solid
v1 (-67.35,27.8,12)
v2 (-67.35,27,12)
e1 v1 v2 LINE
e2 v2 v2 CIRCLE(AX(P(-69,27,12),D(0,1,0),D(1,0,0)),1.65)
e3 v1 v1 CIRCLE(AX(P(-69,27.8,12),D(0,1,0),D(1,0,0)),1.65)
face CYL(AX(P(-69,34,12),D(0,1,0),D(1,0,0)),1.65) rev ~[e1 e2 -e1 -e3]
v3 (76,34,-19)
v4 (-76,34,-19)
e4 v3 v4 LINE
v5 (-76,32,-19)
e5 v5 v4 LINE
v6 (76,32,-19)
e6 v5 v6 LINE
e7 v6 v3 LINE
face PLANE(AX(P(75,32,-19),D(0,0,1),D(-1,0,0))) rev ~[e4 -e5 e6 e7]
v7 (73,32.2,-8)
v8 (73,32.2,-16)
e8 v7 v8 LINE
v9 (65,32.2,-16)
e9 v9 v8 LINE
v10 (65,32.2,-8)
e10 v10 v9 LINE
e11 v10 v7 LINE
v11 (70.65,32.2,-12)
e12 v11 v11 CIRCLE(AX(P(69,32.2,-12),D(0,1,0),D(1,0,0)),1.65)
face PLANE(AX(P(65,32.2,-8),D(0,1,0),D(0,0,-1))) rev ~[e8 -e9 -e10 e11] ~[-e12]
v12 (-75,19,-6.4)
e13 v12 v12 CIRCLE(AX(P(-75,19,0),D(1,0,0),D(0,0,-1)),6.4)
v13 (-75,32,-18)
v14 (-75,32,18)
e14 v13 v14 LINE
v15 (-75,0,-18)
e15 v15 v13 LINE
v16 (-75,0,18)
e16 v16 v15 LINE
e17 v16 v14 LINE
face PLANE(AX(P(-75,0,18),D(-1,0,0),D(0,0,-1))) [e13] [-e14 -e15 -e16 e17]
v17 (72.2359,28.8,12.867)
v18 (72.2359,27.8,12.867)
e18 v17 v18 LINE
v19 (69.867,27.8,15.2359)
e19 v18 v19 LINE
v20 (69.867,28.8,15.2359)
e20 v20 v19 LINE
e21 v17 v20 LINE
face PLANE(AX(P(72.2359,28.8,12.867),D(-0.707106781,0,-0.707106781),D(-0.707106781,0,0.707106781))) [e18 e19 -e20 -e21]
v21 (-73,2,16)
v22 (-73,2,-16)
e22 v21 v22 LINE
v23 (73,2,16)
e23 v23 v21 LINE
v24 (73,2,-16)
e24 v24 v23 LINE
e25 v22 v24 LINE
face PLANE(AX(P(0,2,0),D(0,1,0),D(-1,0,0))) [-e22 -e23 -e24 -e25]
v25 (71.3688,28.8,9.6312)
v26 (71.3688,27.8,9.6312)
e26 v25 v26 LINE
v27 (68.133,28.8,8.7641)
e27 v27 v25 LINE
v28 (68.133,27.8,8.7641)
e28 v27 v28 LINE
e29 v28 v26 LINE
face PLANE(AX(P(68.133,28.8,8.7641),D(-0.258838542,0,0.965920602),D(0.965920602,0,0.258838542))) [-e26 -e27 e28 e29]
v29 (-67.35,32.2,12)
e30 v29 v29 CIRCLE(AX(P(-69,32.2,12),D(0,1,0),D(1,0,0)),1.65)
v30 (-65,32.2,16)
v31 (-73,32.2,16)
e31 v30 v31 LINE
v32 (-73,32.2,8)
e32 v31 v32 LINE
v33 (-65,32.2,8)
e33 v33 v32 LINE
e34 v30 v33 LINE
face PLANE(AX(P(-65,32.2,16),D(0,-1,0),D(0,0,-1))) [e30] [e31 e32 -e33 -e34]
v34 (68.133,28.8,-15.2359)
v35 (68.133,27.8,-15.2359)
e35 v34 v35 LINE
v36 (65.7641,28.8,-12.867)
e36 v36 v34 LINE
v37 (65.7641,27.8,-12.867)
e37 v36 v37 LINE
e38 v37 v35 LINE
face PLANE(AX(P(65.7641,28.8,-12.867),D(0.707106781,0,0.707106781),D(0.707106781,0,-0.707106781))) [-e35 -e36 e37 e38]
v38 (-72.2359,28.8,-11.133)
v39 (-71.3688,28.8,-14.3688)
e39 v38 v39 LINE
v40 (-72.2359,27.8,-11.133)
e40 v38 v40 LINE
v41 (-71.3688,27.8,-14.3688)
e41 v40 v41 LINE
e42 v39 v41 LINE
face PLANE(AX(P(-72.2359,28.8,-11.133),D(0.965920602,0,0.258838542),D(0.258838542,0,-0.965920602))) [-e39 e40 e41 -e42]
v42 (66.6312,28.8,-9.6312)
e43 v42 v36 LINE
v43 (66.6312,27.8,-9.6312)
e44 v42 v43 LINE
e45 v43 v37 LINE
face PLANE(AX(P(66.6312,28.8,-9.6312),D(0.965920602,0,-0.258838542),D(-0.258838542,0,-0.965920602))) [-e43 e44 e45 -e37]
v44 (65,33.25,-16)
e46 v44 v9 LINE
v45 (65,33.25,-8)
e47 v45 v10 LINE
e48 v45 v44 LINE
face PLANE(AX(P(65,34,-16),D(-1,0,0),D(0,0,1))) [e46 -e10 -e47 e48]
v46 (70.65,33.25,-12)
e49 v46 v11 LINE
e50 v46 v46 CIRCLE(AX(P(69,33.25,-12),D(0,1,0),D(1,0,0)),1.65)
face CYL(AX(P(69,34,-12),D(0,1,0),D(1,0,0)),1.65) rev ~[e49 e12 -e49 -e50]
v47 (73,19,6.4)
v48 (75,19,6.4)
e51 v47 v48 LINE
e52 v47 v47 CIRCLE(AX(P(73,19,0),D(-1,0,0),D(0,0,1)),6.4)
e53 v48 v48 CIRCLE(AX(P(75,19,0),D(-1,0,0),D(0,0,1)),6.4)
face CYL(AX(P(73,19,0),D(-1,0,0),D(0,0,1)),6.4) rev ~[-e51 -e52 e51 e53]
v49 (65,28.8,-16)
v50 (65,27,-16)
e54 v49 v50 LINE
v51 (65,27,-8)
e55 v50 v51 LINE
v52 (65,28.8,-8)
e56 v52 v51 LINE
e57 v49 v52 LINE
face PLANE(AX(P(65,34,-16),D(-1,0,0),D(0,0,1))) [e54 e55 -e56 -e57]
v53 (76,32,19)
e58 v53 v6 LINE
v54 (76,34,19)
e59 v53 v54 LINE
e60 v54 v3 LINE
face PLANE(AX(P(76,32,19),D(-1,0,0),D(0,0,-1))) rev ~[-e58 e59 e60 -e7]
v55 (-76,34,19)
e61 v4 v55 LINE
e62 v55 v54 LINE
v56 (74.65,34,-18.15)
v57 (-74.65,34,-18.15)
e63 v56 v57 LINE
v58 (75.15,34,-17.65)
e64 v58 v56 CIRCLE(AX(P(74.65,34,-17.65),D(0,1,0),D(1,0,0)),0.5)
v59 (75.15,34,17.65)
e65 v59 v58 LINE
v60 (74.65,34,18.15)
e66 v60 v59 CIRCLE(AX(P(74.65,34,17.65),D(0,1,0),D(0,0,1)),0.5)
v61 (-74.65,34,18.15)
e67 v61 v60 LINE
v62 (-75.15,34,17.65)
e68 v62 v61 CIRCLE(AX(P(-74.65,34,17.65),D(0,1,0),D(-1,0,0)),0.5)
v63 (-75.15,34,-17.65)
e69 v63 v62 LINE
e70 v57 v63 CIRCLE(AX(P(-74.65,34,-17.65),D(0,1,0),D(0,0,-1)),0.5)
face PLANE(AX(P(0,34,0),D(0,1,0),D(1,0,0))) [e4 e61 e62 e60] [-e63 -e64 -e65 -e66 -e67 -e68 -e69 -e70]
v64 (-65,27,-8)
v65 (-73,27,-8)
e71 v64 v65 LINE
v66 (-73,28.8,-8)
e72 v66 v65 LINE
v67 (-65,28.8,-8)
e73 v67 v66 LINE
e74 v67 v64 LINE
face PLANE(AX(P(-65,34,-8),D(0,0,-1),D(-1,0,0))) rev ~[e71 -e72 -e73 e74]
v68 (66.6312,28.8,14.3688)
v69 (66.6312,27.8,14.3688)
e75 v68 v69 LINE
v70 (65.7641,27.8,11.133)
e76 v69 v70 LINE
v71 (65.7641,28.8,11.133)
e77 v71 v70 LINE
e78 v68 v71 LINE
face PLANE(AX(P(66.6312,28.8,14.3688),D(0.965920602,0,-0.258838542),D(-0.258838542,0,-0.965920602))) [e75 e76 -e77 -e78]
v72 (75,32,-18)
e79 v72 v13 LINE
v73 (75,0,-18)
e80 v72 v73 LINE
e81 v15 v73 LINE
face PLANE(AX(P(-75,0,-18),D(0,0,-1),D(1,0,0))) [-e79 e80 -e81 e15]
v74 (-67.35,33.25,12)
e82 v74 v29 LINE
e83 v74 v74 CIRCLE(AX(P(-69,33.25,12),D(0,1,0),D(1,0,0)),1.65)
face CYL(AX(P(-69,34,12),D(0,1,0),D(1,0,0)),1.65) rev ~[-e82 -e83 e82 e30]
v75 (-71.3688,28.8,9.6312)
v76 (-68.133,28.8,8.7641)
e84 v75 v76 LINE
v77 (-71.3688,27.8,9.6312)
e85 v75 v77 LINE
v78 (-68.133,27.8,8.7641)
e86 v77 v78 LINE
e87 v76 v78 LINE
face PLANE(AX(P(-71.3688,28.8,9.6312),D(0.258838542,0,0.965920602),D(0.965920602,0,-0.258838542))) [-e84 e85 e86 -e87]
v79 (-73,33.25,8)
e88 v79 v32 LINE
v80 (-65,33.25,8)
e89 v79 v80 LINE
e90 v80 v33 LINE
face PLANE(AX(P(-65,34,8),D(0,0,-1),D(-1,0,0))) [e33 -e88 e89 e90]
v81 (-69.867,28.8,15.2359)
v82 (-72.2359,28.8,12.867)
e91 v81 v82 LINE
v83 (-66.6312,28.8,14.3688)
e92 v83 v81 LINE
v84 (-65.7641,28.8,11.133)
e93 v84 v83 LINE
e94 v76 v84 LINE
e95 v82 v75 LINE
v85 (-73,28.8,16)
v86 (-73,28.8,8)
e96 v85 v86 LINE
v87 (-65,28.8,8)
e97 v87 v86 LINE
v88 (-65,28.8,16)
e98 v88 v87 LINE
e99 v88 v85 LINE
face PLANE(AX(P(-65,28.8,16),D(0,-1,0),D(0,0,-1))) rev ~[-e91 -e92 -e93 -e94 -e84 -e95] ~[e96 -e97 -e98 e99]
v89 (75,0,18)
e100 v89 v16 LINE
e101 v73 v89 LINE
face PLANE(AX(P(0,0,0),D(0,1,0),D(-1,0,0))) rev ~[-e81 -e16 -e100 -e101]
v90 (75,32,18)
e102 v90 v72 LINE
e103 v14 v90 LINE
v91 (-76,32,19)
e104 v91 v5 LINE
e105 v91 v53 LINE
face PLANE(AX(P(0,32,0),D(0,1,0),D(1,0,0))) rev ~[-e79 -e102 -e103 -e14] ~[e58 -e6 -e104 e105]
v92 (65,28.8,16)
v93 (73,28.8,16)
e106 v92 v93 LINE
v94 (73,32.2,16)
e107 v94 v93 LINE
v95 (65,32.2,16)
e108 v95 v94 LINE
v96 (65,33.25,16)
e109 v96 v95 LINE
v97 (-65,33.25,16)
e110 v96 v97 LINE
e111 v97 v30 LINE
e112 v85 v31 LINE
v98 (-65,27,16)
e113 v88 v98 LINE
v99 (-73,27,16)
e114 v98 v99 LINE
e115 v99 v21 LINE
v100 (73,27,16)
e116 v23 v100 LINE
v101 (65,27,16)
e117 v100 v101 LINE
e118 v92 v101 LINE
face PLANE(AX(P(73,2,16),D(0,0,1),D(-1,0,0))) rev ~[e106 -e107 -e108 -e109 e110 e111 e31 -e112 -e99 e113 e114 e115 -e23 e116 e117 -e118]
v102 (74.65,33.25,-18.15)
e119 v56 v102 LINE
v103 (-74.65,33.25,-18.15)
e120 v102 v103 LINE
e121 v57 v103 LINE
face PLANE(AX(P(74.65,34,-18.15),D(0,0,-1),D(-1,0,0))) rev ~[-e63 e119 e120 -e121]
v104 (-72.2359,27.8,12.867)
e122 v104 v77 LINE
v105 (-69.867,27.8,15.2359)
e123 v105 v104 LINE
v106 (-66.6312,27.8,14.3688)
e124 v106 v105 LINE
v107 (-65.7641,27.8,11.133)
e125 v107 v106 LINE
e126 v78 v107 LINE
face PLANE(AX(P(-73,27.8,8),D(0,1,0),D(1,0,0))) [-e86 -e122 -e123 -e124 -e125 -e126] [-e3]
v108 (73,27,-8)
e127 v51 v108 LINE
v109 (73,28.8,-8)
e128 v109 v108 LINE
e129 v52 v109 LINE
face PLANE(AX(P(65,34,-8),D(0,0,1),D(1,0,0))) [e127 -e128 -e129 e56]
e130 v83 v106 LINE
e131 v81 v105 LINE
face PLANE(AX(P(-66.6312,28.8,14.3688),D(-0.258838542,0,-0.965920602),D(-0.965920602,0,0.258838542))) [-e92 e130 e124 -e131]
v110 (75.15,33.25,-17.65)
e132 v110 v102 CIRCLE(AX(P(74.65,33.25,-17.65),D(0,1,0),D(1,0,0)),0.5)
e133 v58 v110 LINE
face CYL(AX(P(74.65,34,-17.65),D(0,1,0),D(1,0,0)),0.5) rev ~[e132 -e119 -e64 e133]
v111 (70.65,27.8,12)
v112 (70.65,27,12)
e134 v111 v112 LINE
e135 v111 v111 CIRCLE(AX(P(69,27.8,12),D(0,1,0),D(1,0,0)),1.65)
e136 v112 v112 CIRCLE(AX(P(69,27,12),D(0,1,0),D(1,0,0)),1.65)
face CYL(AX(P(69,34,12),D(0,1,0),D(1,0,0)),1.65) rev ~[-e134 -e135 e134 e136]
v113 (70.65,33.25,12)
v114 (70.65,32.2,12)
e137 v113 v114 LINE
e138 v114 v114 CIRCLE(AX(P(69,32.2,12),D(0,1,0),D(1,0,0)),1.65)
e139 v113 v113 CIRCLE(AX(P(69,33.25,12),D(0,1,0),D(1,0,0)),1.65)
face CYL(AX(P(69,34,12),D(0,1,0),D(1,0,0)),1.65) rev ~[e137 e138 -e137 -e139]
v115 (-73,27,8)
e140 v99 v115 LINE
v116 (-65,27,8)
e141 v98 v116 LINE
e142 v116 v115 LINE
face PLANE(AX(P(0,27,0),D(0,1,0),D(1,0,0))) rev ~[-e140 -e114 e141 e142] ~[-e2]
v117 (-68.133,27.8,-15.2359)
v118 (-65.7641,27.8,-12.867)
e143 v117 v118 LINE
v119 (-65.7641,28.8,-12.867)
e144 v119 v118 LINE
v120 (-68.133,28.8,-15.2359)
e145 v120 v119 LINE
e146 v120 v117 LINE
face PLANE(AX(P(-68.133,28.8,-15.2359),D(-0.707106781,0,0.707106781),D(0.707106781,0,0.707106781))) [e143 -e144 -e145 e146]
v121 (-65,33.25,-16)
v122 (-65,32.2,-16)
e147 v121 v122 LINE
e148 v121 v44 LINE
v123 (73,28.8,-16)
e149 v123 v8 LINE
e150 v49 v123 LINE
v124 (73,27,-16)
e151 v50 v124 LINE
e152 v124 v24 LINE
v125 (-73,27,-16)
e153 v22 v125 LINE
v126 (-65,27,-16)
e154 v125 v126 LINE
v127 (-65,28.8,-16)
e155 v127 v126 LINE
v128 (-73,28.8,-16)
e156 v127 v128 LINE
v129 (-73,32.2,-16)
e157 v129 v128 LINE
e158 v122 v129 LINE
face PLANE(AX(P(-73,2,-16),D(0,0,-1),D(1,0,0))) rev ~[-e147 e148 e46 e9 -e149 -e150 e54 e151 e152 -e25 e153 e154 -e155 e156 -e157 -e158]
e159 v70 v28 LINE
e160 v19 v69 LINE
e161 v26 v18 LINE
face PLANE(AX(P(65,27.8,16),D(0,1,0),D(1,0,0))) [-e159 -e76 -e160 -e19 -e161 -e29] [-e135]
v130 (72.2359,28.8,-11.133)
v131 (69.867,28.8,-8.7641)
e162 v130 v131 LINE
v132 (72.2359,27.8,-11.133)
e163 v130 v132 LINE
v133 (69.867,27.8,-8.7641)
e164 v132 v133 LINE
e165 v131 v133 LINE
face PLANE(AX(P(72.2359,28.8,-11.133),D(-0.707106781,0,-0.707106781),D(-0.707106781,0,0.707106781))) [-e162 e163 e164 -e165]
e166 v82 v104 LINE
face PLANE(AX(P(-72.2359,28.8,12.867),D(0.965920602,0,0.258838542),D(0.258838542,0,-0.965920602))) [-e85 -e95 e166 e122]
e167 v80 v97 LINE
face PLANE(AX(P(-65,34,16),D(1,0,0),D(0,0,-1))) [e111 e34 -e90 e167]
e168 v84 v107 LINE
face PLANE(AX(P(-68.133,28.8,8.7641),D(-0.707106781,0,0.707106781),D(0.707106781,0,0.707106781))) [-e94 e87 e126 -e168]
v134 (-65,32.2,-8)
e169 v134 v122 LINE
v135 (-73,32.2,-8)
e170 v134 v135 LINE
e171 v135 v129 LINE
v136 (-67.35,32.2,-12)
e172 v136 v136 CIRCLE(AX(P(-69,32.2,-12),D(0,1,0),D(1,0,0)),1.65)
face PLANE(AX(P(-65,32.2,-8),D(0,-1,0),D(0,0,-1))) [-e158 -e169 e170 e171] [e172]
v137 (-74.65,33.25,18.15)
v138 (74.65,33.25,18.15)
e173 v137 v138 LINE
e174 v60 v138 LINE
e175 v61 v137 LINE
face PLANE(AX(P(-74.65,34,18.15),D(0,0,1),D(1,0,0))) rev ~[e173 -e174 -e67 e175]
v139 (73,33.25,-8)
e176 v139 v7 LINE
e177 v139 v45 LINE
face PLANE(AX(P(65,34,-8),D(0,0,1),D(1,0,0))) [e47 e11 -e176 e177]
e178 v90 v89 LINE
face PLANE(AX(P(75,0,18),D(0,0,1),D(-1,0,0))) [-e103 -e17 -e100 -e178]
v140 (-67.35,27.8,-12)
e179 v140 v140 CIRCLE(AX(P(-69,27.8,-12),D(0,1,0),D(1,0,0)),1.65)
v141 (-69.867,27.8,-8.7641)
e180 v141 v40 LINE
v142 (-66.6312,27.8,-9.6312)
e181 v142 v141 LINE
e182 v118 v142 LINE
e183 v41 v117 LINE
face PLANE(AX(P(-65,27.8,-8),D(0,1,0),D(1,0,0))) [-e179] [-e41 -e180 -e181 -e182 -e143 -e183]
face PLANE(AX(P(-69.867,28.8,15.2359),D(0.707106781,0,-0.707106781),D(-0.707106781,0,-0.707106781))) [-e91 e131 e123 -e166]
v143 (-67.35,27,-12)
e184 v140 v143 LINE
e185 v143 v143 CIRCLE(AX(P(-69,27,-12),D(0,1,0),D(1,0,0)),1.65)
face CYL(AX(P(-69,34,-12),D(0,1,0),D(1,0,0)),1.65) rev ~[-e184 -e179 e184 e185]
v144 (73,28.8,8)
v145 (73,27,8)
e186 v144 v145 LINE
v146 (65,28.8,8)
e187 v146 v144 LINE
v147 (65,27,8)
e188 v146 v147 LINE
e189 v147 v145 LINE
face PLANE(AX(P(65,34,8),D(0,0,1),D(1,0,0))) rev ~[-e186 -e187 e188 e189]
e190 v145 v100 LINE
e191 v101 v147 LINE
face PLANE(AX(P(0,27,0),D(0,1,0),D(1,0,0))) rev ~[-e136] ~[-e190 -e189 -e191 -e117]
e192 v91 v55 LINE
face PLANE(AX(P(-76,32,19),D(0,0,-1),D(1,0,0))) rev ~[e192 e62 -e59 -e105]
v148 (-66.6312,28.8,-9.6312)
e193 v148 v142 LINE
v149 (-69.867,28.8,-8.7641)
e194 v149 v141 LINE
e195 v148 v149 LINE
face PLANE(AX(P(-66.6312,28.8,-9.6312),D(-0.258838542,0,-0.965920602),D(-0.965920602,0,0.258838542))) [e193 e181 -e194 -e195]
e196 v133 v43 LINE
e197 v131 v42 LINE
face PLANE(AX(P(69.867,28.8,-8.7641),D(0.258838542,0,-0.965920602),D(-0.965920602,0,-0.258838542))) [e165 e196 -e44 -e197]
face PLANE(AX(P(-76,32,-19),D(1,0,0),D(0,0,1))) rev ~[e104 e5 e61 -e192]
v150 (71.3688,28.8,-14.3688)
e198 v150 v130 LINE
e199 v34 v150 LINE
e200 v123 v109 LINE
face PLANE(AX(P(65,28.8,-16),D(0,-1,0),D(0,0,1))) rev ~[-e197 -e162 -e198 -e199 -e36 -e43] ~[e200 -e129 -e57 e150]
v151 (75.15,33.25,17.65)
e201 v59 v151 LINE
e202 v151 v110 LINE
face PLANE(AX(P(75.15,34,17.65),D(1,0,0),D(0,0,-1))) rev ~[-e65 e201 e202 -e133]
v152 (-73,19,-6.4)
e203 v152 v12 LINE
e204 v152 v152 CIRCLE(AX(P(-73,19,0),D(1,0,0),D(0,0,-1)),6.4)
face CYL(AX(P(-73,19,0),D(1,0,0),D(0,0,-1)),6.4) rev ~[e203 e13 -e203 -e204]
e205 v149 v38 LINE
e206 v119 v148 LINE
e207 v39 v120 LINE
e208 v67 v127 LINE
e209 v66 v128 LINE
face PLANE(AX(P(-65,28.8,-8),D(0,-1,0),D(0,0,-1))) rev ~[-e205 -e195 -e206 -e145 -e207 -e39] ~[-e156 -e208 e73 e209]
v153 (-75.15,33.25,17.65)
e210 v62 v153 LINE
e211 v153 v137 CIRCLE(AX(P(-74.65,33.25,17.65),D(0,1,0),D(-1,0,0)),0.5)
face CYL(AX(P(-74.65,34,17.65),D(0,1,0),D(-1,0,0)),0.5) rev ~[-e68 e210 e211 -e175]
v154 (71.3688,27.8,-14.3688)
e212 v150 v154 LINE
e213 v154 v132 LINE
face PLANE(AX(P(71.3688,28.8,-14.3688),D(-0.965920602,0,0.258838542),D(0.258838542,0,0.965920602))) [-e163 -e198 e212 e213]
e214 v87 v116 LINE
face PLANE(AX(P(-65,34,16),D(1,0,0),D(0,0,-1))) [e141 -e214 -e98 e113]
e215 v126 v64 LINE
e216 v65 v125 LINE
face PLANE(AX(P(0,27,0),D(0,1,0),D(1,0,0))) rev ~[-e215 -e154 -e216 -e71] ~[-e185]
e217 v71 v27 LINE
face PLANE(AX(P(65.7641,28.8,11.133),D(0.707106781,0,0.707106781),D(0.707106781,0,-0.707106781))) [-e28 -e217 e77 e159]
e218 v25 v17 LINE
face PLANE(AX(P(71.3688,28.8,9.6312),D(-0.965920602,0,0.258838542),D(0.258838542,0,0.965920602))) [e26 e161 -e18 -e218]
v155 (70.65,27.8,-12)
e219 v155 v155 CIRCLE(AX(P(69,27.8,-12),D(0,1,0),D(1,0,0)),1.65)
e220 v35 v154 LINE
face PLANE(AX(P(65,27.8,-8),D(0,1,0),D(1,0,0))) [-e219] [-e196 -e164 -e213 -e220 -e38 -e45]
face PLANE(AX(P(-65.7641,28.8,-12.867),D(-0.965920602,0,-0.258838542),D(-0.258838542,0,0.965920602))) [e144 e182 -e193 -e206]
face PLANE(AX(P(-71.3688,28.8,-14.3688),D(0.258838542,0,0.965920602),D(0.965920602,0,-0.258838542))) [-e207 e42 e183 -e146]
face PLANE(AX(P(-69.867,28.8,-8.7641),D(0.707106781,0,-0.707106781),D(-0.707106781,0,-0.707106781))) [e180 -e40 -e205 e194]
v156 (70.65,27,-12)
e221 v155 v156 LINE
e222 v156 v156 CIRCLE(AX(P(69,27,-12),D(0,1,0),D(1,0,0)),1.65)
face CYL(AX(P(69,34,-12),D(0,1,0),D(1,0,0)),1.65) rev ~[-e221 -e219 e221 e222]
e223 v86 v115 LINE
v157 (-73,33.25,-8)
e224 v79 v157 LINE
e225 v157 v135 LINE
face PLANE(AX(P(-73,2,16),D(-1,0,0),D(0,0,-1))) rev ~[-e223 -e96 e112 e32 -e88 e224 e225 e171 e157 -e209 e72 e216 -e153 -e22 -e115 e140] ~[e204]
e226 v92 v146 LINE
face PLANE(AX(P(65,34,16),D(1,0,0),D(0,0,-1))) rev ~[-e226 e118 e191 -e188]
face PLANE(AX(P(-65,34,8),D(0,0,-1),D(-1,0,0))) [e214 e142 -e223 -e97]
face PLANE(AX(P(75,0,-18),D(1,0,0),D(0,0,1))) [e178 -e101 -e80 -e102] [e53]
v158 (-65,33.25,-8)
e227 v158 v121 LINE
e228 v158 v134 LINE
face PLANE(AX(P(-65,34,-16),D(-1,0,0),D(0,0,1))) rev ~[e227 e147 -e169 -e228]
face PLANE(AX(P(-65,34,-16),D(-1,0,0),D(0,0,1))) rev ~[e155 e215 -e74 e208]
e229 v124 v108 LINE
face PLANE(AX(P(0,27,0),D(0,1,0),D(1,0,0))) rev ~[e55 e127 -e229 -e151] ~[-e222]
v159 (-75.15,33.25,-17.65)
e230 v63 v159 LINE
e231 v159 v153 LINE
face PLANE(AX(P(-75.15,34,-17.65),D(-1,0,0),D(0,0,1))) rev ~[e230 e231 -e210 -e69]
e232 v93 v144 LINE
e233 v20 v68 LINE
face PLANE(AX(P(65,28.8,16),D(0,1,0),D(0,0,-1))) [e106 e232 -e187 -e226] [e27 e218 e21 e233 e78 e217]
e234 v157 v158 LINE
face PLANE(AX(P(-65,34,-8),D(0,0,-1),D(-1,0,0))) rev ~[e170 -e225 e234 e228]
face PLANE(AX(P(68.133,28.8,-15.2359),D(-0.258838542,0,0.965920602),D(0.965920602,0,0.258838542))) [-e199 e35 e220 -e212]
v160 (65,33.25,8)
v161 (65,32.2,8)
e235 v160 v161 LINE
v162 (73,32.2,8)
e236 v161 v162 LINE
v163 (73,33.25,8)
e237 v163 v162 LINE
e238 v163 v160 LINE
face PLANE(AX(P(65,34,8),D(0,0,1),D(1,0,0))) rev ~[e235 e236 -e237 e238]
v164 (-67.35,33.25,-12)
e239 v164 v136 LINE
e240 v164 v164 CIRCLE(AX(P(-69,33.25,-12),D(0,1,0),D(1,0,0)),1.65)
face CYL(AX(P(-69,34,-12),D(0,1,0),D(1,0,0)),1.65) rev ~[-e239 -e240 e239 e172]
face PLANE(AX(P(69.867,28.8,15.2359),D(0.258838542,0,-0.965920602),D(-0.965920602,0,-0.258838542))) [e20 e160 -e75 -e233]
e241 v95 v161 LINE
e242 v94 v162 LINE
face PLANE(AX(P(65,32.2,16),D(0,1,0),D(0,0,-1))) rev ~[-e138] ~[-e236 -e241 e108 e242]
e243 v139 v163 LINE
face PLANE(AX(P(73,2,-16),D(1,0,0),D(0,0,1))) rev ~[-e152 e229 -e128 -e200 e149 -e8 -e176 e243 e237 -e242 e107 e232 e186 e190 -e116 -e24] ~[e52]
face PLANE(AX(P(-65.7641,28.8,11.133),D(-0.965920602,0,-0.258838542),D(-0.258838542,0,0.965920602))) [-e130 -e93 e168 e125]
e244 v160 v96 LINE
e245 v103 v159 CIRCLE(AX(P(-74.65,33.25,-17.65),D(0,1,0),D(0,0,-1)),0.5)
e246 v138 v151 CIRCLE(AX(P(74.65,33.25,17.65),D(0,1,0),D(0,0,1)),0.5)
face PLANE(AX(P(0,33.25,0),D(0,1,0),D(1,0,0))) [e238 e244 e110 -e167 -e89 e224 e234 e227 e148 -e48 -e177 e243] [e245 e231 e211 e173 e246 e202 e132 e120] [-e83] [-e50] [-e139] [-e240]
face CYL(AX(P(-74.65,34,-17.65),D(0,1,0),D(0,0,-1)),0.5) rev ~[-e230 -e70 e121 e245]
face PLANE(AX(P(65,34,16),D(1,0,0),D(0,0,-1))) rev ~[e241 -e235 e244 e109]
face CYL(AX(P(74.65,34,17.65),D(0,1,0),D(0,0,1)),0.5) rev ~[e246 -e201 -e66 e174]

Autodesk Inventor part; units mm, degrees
ref_plane "YZ Plane" through (0, 0, 0) normal (1, 0, 0) x (0, 1, 0)
ref_plane "XZ Plane" through (0, 0, 0) normal (0, 1, 0) x (-1, 0, 0)
sketch "Sketch1" plane through (0, 0, 0) normal (0, 1, 0) x (-1, 0, 0)
  line L0 (75, -18) -> (-75, -18)
  line L1 (-75, -18) -> (-75, 18)
  line L2 (-75, 18) -> (75, 18)
  line L3 (75, 18) -> (75, -18)
  line L4 (75, -18) -> (-75, 18) construction
  line L5 (-75, -18) -> (75, 18) construction
  point P0 (0, 0)
  dimension "d0" = 150
  dimension "d1" = 36
extrude "Extrusion1" add sketch "Sketch1" along normal blind 2
sketch "Sketch3" plane through (0, 2, 0) normal (0, 1, 0) x (1, 0, 0)
  line L0 (75, 18) -> (-75, 18) projected
  line L1 (-75, 18) -> (-75, -18) projected
  line L2 (73, -16) -> (-73, -16)
  line L3 (-73, -16) -> (-73, 16)
  line L4 (-73, 16) -> (73, 16)
  line L5 (73, 16) -> (73, -16)
  line L6 (-75, -18) -> (75, -18) projected
  line L7 (-75, -18) -> (75, -18)
  line L8 (75, -18) -> (75, 18)
  line L9 (75, 18) -> (-75, 18)
  line L10 (-75, 18) -> (-75, -18)
  point P0 (0, 0)
extrude "Extrusion3" add sketch "Sketch3" along normal blind 30
sketch "Sketch4" plane through (-73, 2, 16) normal (1, 0, 0) x (0, 0, -1)
  line L0 (32, 0) -> (0, 0) projected
  line L1 (32, 0) -> (32, 30) projected
  line L2 (0, 30) -> (32, 30) projected
  line L3 (0, 0) -> (0, 30) projected
  line L4 (0, 30) -> (32, 30) projected
  line L5 (32, 0) -> (32, 30) projected
  line L6 (0, 30) -> (32, 30)
  line L7 (32, 30) -> (32, 0)
  line L8 (32, 0) -> (0, 0)
  line L9 (0, 0) -> (0, 30)
  line L10 (32, 0) -> (0, 0) projected
  circle A0 centre (16, 17) radius 6.4
  point P0 (16, -2)
extrude "Extrusion4" cut sketch "Sketch4" against normal blind 30 contours A0
sketch "Sketch5" plane through (73, 2, -16) normal (-1, 0, 0) x (0, 0, 1)
  line L0 (32, 0) -> (0, 0) projected
  line L1 (32, 0) -> (32, 30) projected
  line L2 (0, 30) -> (32, 30) projected
  line L3 (0, 0) -> (0, 30) projected
  line L4 (0, 30) -> (32, 30) projected
  line L5 (0, 30) -> (32, 30)
  line L6 (32, 30) -> (32, 0)
  line L7 (32, 0) -> (0, 0)
  line L8 (0, 0) -> (0, 30)
  line L9 (0, 0) -> (0, 30) projected
  circle A0 centre (16, 17) radius 6.4
  point P0 (16, -2)
  dimension "d23" = 12.8
extrude "Extrusion5" cut sketch "Sketch5" against normal blind 30 contours A0
sketch "Sketch6" plane through (0, 32, 0) normal (0, 1, 0) x (1, 0, 0)
  line L0 (75, 18) -> (-75, 18) projected
  line L1 (-75, 18) -> (-75, -18) projected
  line L2 (-75, -18) -> (75, -18) projected
  line L3 (75, -18) -> (75, 18) projected
  line L4 (73, -16) -> (-73, -16) projected
  line L5 (-73, -16) -> (-73, 16) projected
  line L6 (-73, 16) -> (73, 16) projected
  line L7 (73, 16) -> (73, -16) projected
  line L8 (-76, -18) -> (-76, -19)
  line L9 (75, -18) -> (75, 18) projected
  line L10 (75, 19) -> (76, 19)
  line L11 (76, 19) -> (-76, 19)
  line L12 (-76, 19) -> (-76, -19)
  line L13 (-76, -19) -> (76, -19)
  line L14 (76, -19) -> (76, 19)
  line L15 (-73, -16) -> (-73, 16) projected
  line L16 (73, 16) -> (-73, 16) projected
  line L17 (-73, -16) -> (73, -16)
  line L18 (73, -16) -> (73, 16)
  line L19 (73, 16) -> (-73, 16)
  line L20 (-73, 16) -> (-73, -16)
  point P0 (0, 0)
  dimension "d26" = 1
  dimension "d27" = 1
  dimension "d28" = 1
  dimension "d29" = 1
extrude "Extrusion6" add sketch "Sketch6" along normal blind 2 contours L3 L2 L1 L0 | L12 L11 L10 L14 L13 L8
sketch "Sketch7" plane through (0, 34, 0) normal (0, 1, 0) x (1, 0, 0)
  line L0 (76, 19) -> (-76, 19) projected
  line L1 (-76, 19) -> (-76, -19) projected
  line L2 (-76, -19) -> (76, -19) projected
  line L3 (76, -19) -> (76, 19) projected
  line L4 (73, 16) -> (73, -16) projected
  line L5 (73, -16) -> (-73, -16) projected
  line L6 (-73, -16) -> (-73, 16) projected
  line L7 (-73, 16) -> (73, 16) projected
  line L8 (73, -16) -> (-73, -16) projected
  line L9 (-73.65, -16) -> (-73.65, -16.15)
  line L10 (-76, 19) -> (-76, -19) projected
  line L11 (-76, -19) -> (-76, -18.15)
  line L12 (76, 19) -> (-76, 19) projected
  line L13 (76, 19) -> (75.15, 19)
  line L14 (-73, 16) -> (73, 16) projected
  line L15 (72.8, 16.65) -> (73.15, 16.65)
  line L16 (73.65, 16.65) -> (-73.15, 16.65)
  line L17 (-73.65, 16.15) -> (-73.65, -16.65)
  line L18 (-73.15, -16.65) -> (73.15, -16.65)
  line L19 (73.65, -16.15) -> (73.65, 16.15)
  line L20 (-74.65, -18.15) -> (74.65, -18.15)
  line L21 (75.15, -17.65) -> (75.15, 17.65)
  line L22 (74.65, 18.15) -> (-74.65, 18.15)
  line L23 (-75.15, 17.65) -> (-75.15, -17.65)
  arc A0 (-75.15, -17.65) -> (-74.65, -18.15) centre (-74.65, -17.65) ccw
  arc A1 (-73.65, -16.15) -> (-73.15, -16.65) centre (-73.15, -16.15) ccw
  arc A2 (-73.15, 16.65) -> (-73.65, 16.15) centre (-73.15, 16.15) ccw
  arc A3 (-74.65, 18.15) -> (-75.15, 17.65) centre (-74.65, 17.65) ccw
  arc A4 (73.15, -16.65) -> (73.65, -16.15) centre (73.15, -16.15) ccw
  arc A5 (74.65, -18.15) -> (75.15, -17.65) centre (74.65, -17.65) ccw
  arc A6 (73.65, 16.15) -> (73.15, 16.65) centre (73.15, 16.15) ccw
  arc A7 (75.15, 17.65) -> (74.65, 18.15) centre (74.65, 17.65) ccw
  point P0 (0, 0)
  point P1 (-75.15, -18.15)
  point P2 (75.15, 18.15)
  point P3 (-73.65, 16.65)
  point P4 (73.65, -16.65)
  point P5 (75.15, -18.15)
  point P6 (-75.15, 18.15)
  dimension "d34" = 0.85
  dimension "d184" = 1.5
  dimension "d185" = 1.5
  dimension "d186" = 1.5
  dimension "d187" = 1.5
  dimension "d188" = 0.65
  dimension "d191" = 0.5
  dimension "d192" = 0.5
sketch "Sketch8" plane through (0, 34, 0) normal (0, 1, 0) x (1, 0, 0)
  point P0 (0, 0)
sketch "Sketch9" plane through (-73, 2, 16) normal (1, 0, 0) x (0, 0, -1)
  point P0 (16, -2)
sketch "Sketch29" plane through (0, 34, 0) normal (0, 1, 0) x (1, 0, 0)
  line L0 (73, 16) -> (73, -16) projected
  line L1 (73, -16) -> (-73, -16) projected
  line L2 (-73, -16) -> (-73, 16) projected
  line L3 (-73, 16) -> (73, 16) projected
  line L4 (75.15, 18.15) -> (75.15, -18.15) projected
  line L5 (-75.15, 18.15) -> (75.15, 18.15) projected
  line L6 (-75.15, -18.15) -> (-75.15, 18.15) projected
  line L7 (75.15, -18.15) -> (-75.15, -18.15) projected
  line L8 (73.65, -16.65) -> (73.65, 16.65) projected
  line L9 (-73.65, -16.65) -> (73.65, -16.65) projected
  line L10 (-73.65, 16.65) -> (-73.65, -16.65) projected
  line L11 (73.65, 16.65) -> (-73.65, 16.65) projected
  line L12 (-76, 19) -> (-76, -19) projected
  line L13 (76, 19) -> (-76, 19) projected
  line L14 (-76, 19) -> (-76, -19) projected
  line L15 (-76, -19) -> (76, -19) projected
  line L16 (76, -19) -> (76, 19) projected
  line L17 (-73, -16) -> (73, -16) projected
  line L18 (-73, -16) -> (-73, 16) projected
  line L19 (-73, -16) -> (-65.5, -16) construction
  line L20 (-73, -16) -> (-65, -16)
  line L21 (-65, -16) -> (-65, -8)
  line L22 (-65, -8) -> (-73, -8)
  line L23 (-73, -8) -> (-73, -16)
  line L24 (-73, 16) -> (-65, 16)
  line L25 (-65, 16) -> (-65, 8)
  line L26 (-65, 8) -> (-73, 8)
  line L27 (-73, 8) -> (-73, 16)
  line L28 (73, 16) -> (-73, 16) projected
  line L29 (73, 16) -> (65, 16)
  line L30 (65, 16) -> (65, 8)
  line L31 (65, 8) -> (73, 8)
  line L32 (73, 8) -> (73, 16)
  line L33 (73, -16) -> (65, -16)
  line L34 (65, -16) -> (65, -8)
  line L35 (65, -8) -> (73, -8)
  line L36 (73, -8) -> (73, -16)
  point P0 (0, 0)
  dimension "d120" = 8
  dimension "d121" = 8
  dimension "d122" = 8
  dimension "d123" = 8
  dimension "d124" = 8
  dimension "d125" = 8
  dimension "d126" = 8
  dimension "d127" = 8
extrude "Extrusion22" add sketch "Sketch29" against normal blind 7 contours L0 L31 L30 L3 | L0 L1 L34 L35 | L25 L26 L2 L3 | L1 L2 L22 L21
sketch "Sketch30" plane through (-65, 34, -8) normal (1, 0, 0) x (0, 0, -1)
  line L0 (0, 0) -> (8, 0) projected
  line L1 (0, 0) -> (0, -7) projected
  line L2 (8, -7) -> (0, -7) projected
  line L3 (8, 0) -> (8, -7) projected
  line L4 (-24, 0) -> (-16, 0) projected
  line L5 (-24, -7) -> (-24, 0) projected
  line L6 (-16, -7) -> (-24, -7) projected
  line L7 (-16, 0) -> (-16, -7) projected
  line L8 (0, 0) -> (0, -7) projected
  line L9 (8, 0) -> (0, 0)
  line L10 (0, 0) -> (0, -1.8)
  line L11 (0, -1.8) -> (8, -1.8)
  line L12 (8, -1.8) -> (8, 0)
  line L13 (8, 0) -> (8, -7) projected
  line L14 (8, -7) -> (0, -7)
  line L15 (0, -7) -> (0, -5.2)
  line L16 (0, -5.2) -> (8, -5.2)
  line L17 (8, -5.2) -> (8, -7)
  line L18 (0, -1.8) -> (8, -1.8)
  line L19 (8, -1.8) -> (8, -5.2)
  line L20 (8, -5.2) -> (0, -5.2)
  line L21 (0, -5.2) -> (0, -1.8)
  line L22 (-24, 0) -> (-16, 0) projected
  line L23 (-16, 0) -> (-24, 0)
  line L24 (-24, 0) -> (-24, -1.8)
  line L25 (-24, -1.8) -> (-16, -1.8)
  line L26 (-16, -1.8) -> (-16, 0)
  line L27 (-16, -7) -> (-24, -7)
  line L28 (-24, -7) -> (-24, -5.2)
  line L29 (-24, -5.2) -> (-16, -5.2)
  line L30 (-16, -5.2) -> (-16, -7)
  line L31 (-16, -1.8) -> (-24, -1.8)
  line L32 (-24, -1.8) -> (-24, -5.2)
  line L33 (-24, -5.2) -> (-16, -5.2)
  line L34 (-16, -5.2) -> (-16, -1.8)
  point P0 (-8, -34)
  point P1 (-24, -5.2)
  point P2 (-16, -5.2)
  point P3 (-16, -1.8)
  point P4 (-24, -1.8)
  point P5 (0, -5.2)
  point P6 (8, -5.2)
  point P7 (8, -1.8)
  point P8 (0, -1.8)
  dimension "d130" = 1.8
  dimension "d131" = 1.8
  dimension "d132" = 8
  dimension "d133" = 1.8
  dimension "d134" = 8
  dimension "d135" = 1.8
extrude "Extrusion23" cut sketch "Sketch30" against normal blind 8 contours L11 L3 L16 L1 | L25 L7 L29 L5
sketch "Sketch31" plane through (65, 34, -16) normal (-1, 0, 0) x (0, 0, 1)
  point P0 (16, -34)
sketch "Sketch32" plane through (65, 34, -16) normal (-1, 0, 0) x (0, 0, 1)
  line L0 (0, 0) -> (8, 0) projected
  line L1 (0, -7) -> (0, 0) projected
  line L2 (8, -7) -> (0, -7) projected
  line L3 (8, 0) -> (8, -7) projected
  line L4 (32, -7) -> (24, -7) projected
  line L5 (24, 0) -> (32, 0) projected
  line L6 (24, 0) -> (24, -7) projected
  line L7 (32, -7) -> (24, -7) projected
  line L8 (32, 0) -> (32, -7) projected
  line L9 (0, 0) -> (8, 0)
  line L10 (8, 0) -> (8, -1.8)
  line L11 (8, -1.8) -> (0, -1.8)
  line L12 (0, -1.8) -> (0, 0)
  line L13 (8, -7) -> (0, -7)
  line L14 (0, -7) -> (0, -5.2)
  line L15 (0, -5.2) -> (8, -5.2)
  line L16 (8, -5.2) -> (8, -7)
  line L17 (0, -1.8) -> (8, -1.8)
  line L18 (8, -1.8) -> (8, -5.2)
  line L19 (8, -5.2) -> (0, -5.2)
  line L20 (0, -5.2) -> (0, -1.8)
  line L21 (24, 0) -> (32, 0) projected
  line L22 (24, 0) -> (32, 0)
  line L23 (32, 0) -> (32, -1.8)
  line L24 (32, -1.8) -> (24, -1.8)
  line L25 (24, -1.8) -> (24, 0)
  line L26 (24, -7) -> (32, -7)
  line L27 (32, -7) -> (32, -5.2)
  line L28 (32, -5.2) -> (24, -5.2)
  line L29 (24, -5.2) -> (24, -7)
  line L30 (24, -1.8) -> (32, -1.8)
  line L31 (32, -1.8) -> (32, -5.2)
  line L32 (32, -5.2) -> (24, -5.2)
  line L33 (24, -5.2) -> (24, -1.8)
  point P0 (16, -34)
  point P1 (24, -5.2)
  point P2 (32, -5.2)
  point P3 (32, -1.8)
  point P4 (24, -1.8)
  point P5 (0, -5.2)
  point P6 (8, -5.2)
  point P7 (8, -1.8)
  point P8 (0, -1.8)
  dimension "d138" = 8
  dimension "d139" = 1.8
  dimension "d140" = 8
  dimension "d141" = 1.8
  dimension "d142" = 8
  dimension "d143" = 1.8
  dimension "d144" = 8
  dimension "d145" = 1.8
extrude "Extrusion24" cut sketch "Sketch32" against normal blind 8 contours L11 L3 L15 L1 | L28 L6 L24 L8
sketch "Sketch34" plane through (65, 28.8, -8) normal (0, 1, 0) x (1, 0, 0)
  line L0 (8, 8) -> (0, 8)
  line L1 (0, 8) -> (0, 0)
  line L2 (0, 0) -> (8, 0)
  line L3 (8, 0) -> (8, 8)
  line L4 (0, 0) -> (0, 8)
  line L5 (8, 0) -> (0, 0) projected
  circle A0 centre (4, 4) radius 3.35
  line L6 (1.6312, 1.6312) -> (0.7641, 4.867)
  line L7 (0.7641, 4.867) -> (3.133, 7.2359)
  line L8 (3.133, 7.2359) -> (6.3688, 6.3688)
  line L9 (6.3688, 6.3688) -> (7.2359, 3.133)
  line L10 (7.2359, 3.133) -> (4.867, 0.7641)
  line L11 (4.867, 0.7641) -> (1.6312, 1.6312)
  point P0 (-65, -8)
sketch "Sketch35" plane through (65, 28.8, 16) normal (0, 1, 0) x (1, 0, 0)
  line L0 (8, 8) -> (0, 8)
  line L1 (0, 8) -> (0, 0)
  line L2 (0, 0) -> (8, 0)
  line L3 (8, 0) -> (8, 8)
  line L4 (0, 0) -> (0, 8)
  line L5 (8, 0) -> (8, 8) projected
  line L6 (0, 0) -> (0, 8) projected
  circle A0 centre (4, 4) radius 3.35
  line L7 (1.6312, 1.6312) -> (0.7641, 4.867)
  line L8 (0.7641, 4.867) -> (3.133, 7.2359)
  line L9 (3.133, 7.2359) -> (6.3688, 6.3688)
  line L10 (6.3688, 6.3688) -> (7.2359, 3.133)
  line L11 (7.2359, 3.133) -> (4.867, 0.7641)
  line L12 (4.867, 0.7641) -> (1.6312, 1.6312)
  point P0 (-65, 16)
extrude "Extrusion26" cut sketch "Sketch35" against normal blind 1 contours L10 L11 L12 L7 L8 L9
extrude "Extrusion27" cut sketch "Sketch34" against normal blind 1 contours L9 L10 L11 L6 L7 L8
sketch "Sketch36" plane through (-65, 28.8, -8) normal (0, 1, 0) x (1, 0, 0)
  line L0 (-8, 8) -> (0, 8)
  line L1 (0, 8) -> (0, 0)
  line L2 (0, 0) -> (-8, 0)
  line L3 (-8, 0) -> (-8, 8)
  line L4 (0, 0) -> (-8, 0)
  circle A0 centre (-4, 4) radius 3.35
  line L5 (-1.6312, 1.6312) -> (-4.867, 0.7641)
  line L6 (-4.867, 0.7641) -> (-7.2359, 3.133)
  line L7 (-7.2359, 3.133) -> (-6.3688, 6.3688)
  line L8 (-6.3688, 6.3688) -> (-3.133, 7.2359)
  line L9 (-3.133, 7.2359) -> (-0.7641, 4.867)
  line L10 (-0.7641, 4.867) -> (-1.6312, 1.6312)
  point P0 (65, -8)
  dimension "d163" = 6.7
extrude "Extrusion28" cut sketch "Sketch36" against normal blind 1 contours L10 L5 L6 L7 L8 L9
sketch "Sketch37" plane through (-73, 28.8, 8) normal (0, 1, 0) x (1, 0, 0)
  line L0 (0, 0) -> (8, 0) projected
  line L1 (8, 0) -> (8, -8) projected
  line L2 (0, 0) -> (8, 0)
  line L3 (8, 0) -> (8, -8)
  line L4 (8, -8) -> (0, -8)
  line L5 (0, -8) -> (0, 0)
  circle A0 centre (4, -4) radius 3.35
  line L6 (6.3688, -6.3688) -> (3.133, -7.2359)
  line L7 (3.133, -7.2359) -> (0.7641, -4.867)
  line L8 (0.7641, -4.867) -> (1.6312, -1.6312)
  line L9 (1.6312, -1.6312) -> (4.867, -0.7641)
  line L10 (4.867, -0.7641) -> (7.2359, -3.133)
  line L11 (7.2359, -3.133) -> (6.3688, -6.3688)
  point P0 (73, 8)
  dimension "d166" = 6.7
extrude "Extrusion29" cut sketch "Sketch37" against normal blind 1 contours L11 L6 L7 L8 L9 L10
sketch "Sketch38" plane through (0, 34, 0) normal (0, 1, 0) x (1, 0, 0)
  line L0 (73, 8) -> (73, -8) projected
  line L1 (73, -8) -> (65, -8) projected
  line L2 (65, -8) -> (65, -16) projected
  line L3 (65, -16) -> (-65, -16) projected
  line L4 (-65, -16) -> (-65, -8) projected
  line L5 (-65, -8) -> (-73, -8) projected
  line L6 (-73, -8) -> (-73, 8) projected
  line L7 (-73, 8) -> (-65, 8) projected
  line L8 (-65, 8) -> (-65, 16) projected
  line L9 (-65, 16) -> (65, 16) projected
  line L10 (65, 16) -> (65, 8) projected
  line L11 (65, 8) -> (73, 8) projected
  line L12 (-65, 8) -> (-73, 8) projected
  line L13 (-65, 8) -> (-73, 8)
  line L14 (-73, 8) -> (-73, 16)
  line L15 (-73, 16) -> (-65, 16)
  line L16 (-65, 16) -> (-65, 8)
  circle A0 centre (-69, 12) radius 1.65
  line L17 (-73, -8) -> (-65, -8) projected
  line L18 (-65, -8) -> (-73, -8)
  line L19 (-73, -8) -> (-73, -16)
  line L20 (-73, -16) -> (-65, -16)
  line L21 (-65, -16) -> (-65, -8)
  circle A1 centre (-69, -12) radius 1.65
  line L22 (73, 8) -> (65, 8) projected
  line L23 (65, 8) -> (73, 8)
  line L24 (73, 8) -> (73, 16)
  line L25 (73, 16) -> (65, 16)
  line L26 (65, 16) -> (65, 8)
  line L27 (65, -8) -> (65, -16) projected
  line L28 (65, -8) -> (73, -8)
  line L29 (73, -8) -> (73, -16)
  line L30 (73, -16) -> (65, -16)
  line L31 (65, -16) -> (65, -8)
  circle A2 centre (69, 12) radius 1.65
  circle A3 centre (69, -12) radius 1.65
  point P0 (0, 0)
  dimension "d169" = 8
  dimension "d170" = 8
  dimension "d171" = 3.3
  dimension "d172" = 8
  dimension "d173" = 8
  dimension "d174" = 3.3
  dimension "d175" = 8
  dimension "d176" = 8
  dimension "d177" = 8
  dimension "d178" = 8
  dimension "d179" = 3.3
  dimension "d180" = 3.3
extrude "Extrusion30" cut sketch "Sketch38" against normal blind 8 contours A0 | A1 | A2 | A3
ref_plane "Work Plane2" through (0, 33.25, 0) normal (0, 1, 0) x (1, 0, 0)
sketch "Sketch39" plane through (0, 33.25, 0) normal (0, 1, 0) x (1, 0, 0)
  line L0 (-73.65, -16.65) -> (73.65, -16.65) projected
  line L1 (75.15, 18.15) -> (75.15, -18.15) projected
  line L2 (-75.15, 18.15) -> (75.15, 18.15) projected
  line L3 (-75.15, -18.15) -> (-75.15, 18.15) projected
  line L4 (75.15, -18.15) -> (-75.15, -18.15) projected
  line L5 (73.65, -16.65) -> (73.65, 16.65) projected
  line L6 (-73.65, -16.65) -> (73.65, -16.65) projected
  line L7 (-73.65, 16.65) -> (-73.65, -16.65) projected
  line L8 (73.65, 16.65) -> (-73.65, 16.65) projected
  line L9 (65, -16) -> (-65, -16) projected
  line L10 (75.15, -18.15) -> (-75.15, -18.15) projected
  line L11 (-76, -19) -> (76, -19) projected
  line L12 (-73.65, -16.65) -> (73.65, -16.65) projected
  line L13 (-73, -16) -> (-65, -16) projected
  line L14 (75.15, 18.15) -> (75.15, -18.15) projected
  line L15 (-75.15, 18.15) -> (75.15, 18.15) projected
  line L16 (-75.15, -18.15) -> (-75.15, 18.15) projected
  line L17 (75.15, -18.15) -> (-75.15, -18.15) projected
  line L18 (73.65, -16.65) -> (73.65, 16.65) projected
  line L19 (-73.65, -16.65) -> (73.65, -16.65) projected
  line L20 (-73.65, 16.65) -> (-73.65, -16.65) projected
  line L21 (73.65, 16.65) -> (-73.65, 16.65) projected
  line L22 (75.15, 18.15) -> (75.15, -18.15) projected
  line L23 (-75.15, 18.15) -> (75.15, 18.15) projected
  line L24 (-75.15, -18.15) -> (-75.15, 18.15) projected
  line L25 (75.15, -18.15) -> (-75.15, -18.15) projected
  line L26 (73.65, -16.65) -> (73.65, 16.65) projected
  line L27 (-73.65, -16.65) -> (73.65, -16.65) projected
  line L28 (-73.65, 16.65) -> (-73.65, -16.65) projected
  line L29 (73.65, 16.65) -> (-73.65, 16.65) projected
  point P0 (0, 0)
extrude "Extrusion31" cut sketch "Sketch7" against normal blind 0.75 contours L4 L5 L6 L7 | L17 A2 L16 L15 A6 L19 A4 L18 A1 L9 | A0 L23 A3 L22 A7 L21 A5 L20
properties part number "base inferior" material "Steel, Mild, Welded"
